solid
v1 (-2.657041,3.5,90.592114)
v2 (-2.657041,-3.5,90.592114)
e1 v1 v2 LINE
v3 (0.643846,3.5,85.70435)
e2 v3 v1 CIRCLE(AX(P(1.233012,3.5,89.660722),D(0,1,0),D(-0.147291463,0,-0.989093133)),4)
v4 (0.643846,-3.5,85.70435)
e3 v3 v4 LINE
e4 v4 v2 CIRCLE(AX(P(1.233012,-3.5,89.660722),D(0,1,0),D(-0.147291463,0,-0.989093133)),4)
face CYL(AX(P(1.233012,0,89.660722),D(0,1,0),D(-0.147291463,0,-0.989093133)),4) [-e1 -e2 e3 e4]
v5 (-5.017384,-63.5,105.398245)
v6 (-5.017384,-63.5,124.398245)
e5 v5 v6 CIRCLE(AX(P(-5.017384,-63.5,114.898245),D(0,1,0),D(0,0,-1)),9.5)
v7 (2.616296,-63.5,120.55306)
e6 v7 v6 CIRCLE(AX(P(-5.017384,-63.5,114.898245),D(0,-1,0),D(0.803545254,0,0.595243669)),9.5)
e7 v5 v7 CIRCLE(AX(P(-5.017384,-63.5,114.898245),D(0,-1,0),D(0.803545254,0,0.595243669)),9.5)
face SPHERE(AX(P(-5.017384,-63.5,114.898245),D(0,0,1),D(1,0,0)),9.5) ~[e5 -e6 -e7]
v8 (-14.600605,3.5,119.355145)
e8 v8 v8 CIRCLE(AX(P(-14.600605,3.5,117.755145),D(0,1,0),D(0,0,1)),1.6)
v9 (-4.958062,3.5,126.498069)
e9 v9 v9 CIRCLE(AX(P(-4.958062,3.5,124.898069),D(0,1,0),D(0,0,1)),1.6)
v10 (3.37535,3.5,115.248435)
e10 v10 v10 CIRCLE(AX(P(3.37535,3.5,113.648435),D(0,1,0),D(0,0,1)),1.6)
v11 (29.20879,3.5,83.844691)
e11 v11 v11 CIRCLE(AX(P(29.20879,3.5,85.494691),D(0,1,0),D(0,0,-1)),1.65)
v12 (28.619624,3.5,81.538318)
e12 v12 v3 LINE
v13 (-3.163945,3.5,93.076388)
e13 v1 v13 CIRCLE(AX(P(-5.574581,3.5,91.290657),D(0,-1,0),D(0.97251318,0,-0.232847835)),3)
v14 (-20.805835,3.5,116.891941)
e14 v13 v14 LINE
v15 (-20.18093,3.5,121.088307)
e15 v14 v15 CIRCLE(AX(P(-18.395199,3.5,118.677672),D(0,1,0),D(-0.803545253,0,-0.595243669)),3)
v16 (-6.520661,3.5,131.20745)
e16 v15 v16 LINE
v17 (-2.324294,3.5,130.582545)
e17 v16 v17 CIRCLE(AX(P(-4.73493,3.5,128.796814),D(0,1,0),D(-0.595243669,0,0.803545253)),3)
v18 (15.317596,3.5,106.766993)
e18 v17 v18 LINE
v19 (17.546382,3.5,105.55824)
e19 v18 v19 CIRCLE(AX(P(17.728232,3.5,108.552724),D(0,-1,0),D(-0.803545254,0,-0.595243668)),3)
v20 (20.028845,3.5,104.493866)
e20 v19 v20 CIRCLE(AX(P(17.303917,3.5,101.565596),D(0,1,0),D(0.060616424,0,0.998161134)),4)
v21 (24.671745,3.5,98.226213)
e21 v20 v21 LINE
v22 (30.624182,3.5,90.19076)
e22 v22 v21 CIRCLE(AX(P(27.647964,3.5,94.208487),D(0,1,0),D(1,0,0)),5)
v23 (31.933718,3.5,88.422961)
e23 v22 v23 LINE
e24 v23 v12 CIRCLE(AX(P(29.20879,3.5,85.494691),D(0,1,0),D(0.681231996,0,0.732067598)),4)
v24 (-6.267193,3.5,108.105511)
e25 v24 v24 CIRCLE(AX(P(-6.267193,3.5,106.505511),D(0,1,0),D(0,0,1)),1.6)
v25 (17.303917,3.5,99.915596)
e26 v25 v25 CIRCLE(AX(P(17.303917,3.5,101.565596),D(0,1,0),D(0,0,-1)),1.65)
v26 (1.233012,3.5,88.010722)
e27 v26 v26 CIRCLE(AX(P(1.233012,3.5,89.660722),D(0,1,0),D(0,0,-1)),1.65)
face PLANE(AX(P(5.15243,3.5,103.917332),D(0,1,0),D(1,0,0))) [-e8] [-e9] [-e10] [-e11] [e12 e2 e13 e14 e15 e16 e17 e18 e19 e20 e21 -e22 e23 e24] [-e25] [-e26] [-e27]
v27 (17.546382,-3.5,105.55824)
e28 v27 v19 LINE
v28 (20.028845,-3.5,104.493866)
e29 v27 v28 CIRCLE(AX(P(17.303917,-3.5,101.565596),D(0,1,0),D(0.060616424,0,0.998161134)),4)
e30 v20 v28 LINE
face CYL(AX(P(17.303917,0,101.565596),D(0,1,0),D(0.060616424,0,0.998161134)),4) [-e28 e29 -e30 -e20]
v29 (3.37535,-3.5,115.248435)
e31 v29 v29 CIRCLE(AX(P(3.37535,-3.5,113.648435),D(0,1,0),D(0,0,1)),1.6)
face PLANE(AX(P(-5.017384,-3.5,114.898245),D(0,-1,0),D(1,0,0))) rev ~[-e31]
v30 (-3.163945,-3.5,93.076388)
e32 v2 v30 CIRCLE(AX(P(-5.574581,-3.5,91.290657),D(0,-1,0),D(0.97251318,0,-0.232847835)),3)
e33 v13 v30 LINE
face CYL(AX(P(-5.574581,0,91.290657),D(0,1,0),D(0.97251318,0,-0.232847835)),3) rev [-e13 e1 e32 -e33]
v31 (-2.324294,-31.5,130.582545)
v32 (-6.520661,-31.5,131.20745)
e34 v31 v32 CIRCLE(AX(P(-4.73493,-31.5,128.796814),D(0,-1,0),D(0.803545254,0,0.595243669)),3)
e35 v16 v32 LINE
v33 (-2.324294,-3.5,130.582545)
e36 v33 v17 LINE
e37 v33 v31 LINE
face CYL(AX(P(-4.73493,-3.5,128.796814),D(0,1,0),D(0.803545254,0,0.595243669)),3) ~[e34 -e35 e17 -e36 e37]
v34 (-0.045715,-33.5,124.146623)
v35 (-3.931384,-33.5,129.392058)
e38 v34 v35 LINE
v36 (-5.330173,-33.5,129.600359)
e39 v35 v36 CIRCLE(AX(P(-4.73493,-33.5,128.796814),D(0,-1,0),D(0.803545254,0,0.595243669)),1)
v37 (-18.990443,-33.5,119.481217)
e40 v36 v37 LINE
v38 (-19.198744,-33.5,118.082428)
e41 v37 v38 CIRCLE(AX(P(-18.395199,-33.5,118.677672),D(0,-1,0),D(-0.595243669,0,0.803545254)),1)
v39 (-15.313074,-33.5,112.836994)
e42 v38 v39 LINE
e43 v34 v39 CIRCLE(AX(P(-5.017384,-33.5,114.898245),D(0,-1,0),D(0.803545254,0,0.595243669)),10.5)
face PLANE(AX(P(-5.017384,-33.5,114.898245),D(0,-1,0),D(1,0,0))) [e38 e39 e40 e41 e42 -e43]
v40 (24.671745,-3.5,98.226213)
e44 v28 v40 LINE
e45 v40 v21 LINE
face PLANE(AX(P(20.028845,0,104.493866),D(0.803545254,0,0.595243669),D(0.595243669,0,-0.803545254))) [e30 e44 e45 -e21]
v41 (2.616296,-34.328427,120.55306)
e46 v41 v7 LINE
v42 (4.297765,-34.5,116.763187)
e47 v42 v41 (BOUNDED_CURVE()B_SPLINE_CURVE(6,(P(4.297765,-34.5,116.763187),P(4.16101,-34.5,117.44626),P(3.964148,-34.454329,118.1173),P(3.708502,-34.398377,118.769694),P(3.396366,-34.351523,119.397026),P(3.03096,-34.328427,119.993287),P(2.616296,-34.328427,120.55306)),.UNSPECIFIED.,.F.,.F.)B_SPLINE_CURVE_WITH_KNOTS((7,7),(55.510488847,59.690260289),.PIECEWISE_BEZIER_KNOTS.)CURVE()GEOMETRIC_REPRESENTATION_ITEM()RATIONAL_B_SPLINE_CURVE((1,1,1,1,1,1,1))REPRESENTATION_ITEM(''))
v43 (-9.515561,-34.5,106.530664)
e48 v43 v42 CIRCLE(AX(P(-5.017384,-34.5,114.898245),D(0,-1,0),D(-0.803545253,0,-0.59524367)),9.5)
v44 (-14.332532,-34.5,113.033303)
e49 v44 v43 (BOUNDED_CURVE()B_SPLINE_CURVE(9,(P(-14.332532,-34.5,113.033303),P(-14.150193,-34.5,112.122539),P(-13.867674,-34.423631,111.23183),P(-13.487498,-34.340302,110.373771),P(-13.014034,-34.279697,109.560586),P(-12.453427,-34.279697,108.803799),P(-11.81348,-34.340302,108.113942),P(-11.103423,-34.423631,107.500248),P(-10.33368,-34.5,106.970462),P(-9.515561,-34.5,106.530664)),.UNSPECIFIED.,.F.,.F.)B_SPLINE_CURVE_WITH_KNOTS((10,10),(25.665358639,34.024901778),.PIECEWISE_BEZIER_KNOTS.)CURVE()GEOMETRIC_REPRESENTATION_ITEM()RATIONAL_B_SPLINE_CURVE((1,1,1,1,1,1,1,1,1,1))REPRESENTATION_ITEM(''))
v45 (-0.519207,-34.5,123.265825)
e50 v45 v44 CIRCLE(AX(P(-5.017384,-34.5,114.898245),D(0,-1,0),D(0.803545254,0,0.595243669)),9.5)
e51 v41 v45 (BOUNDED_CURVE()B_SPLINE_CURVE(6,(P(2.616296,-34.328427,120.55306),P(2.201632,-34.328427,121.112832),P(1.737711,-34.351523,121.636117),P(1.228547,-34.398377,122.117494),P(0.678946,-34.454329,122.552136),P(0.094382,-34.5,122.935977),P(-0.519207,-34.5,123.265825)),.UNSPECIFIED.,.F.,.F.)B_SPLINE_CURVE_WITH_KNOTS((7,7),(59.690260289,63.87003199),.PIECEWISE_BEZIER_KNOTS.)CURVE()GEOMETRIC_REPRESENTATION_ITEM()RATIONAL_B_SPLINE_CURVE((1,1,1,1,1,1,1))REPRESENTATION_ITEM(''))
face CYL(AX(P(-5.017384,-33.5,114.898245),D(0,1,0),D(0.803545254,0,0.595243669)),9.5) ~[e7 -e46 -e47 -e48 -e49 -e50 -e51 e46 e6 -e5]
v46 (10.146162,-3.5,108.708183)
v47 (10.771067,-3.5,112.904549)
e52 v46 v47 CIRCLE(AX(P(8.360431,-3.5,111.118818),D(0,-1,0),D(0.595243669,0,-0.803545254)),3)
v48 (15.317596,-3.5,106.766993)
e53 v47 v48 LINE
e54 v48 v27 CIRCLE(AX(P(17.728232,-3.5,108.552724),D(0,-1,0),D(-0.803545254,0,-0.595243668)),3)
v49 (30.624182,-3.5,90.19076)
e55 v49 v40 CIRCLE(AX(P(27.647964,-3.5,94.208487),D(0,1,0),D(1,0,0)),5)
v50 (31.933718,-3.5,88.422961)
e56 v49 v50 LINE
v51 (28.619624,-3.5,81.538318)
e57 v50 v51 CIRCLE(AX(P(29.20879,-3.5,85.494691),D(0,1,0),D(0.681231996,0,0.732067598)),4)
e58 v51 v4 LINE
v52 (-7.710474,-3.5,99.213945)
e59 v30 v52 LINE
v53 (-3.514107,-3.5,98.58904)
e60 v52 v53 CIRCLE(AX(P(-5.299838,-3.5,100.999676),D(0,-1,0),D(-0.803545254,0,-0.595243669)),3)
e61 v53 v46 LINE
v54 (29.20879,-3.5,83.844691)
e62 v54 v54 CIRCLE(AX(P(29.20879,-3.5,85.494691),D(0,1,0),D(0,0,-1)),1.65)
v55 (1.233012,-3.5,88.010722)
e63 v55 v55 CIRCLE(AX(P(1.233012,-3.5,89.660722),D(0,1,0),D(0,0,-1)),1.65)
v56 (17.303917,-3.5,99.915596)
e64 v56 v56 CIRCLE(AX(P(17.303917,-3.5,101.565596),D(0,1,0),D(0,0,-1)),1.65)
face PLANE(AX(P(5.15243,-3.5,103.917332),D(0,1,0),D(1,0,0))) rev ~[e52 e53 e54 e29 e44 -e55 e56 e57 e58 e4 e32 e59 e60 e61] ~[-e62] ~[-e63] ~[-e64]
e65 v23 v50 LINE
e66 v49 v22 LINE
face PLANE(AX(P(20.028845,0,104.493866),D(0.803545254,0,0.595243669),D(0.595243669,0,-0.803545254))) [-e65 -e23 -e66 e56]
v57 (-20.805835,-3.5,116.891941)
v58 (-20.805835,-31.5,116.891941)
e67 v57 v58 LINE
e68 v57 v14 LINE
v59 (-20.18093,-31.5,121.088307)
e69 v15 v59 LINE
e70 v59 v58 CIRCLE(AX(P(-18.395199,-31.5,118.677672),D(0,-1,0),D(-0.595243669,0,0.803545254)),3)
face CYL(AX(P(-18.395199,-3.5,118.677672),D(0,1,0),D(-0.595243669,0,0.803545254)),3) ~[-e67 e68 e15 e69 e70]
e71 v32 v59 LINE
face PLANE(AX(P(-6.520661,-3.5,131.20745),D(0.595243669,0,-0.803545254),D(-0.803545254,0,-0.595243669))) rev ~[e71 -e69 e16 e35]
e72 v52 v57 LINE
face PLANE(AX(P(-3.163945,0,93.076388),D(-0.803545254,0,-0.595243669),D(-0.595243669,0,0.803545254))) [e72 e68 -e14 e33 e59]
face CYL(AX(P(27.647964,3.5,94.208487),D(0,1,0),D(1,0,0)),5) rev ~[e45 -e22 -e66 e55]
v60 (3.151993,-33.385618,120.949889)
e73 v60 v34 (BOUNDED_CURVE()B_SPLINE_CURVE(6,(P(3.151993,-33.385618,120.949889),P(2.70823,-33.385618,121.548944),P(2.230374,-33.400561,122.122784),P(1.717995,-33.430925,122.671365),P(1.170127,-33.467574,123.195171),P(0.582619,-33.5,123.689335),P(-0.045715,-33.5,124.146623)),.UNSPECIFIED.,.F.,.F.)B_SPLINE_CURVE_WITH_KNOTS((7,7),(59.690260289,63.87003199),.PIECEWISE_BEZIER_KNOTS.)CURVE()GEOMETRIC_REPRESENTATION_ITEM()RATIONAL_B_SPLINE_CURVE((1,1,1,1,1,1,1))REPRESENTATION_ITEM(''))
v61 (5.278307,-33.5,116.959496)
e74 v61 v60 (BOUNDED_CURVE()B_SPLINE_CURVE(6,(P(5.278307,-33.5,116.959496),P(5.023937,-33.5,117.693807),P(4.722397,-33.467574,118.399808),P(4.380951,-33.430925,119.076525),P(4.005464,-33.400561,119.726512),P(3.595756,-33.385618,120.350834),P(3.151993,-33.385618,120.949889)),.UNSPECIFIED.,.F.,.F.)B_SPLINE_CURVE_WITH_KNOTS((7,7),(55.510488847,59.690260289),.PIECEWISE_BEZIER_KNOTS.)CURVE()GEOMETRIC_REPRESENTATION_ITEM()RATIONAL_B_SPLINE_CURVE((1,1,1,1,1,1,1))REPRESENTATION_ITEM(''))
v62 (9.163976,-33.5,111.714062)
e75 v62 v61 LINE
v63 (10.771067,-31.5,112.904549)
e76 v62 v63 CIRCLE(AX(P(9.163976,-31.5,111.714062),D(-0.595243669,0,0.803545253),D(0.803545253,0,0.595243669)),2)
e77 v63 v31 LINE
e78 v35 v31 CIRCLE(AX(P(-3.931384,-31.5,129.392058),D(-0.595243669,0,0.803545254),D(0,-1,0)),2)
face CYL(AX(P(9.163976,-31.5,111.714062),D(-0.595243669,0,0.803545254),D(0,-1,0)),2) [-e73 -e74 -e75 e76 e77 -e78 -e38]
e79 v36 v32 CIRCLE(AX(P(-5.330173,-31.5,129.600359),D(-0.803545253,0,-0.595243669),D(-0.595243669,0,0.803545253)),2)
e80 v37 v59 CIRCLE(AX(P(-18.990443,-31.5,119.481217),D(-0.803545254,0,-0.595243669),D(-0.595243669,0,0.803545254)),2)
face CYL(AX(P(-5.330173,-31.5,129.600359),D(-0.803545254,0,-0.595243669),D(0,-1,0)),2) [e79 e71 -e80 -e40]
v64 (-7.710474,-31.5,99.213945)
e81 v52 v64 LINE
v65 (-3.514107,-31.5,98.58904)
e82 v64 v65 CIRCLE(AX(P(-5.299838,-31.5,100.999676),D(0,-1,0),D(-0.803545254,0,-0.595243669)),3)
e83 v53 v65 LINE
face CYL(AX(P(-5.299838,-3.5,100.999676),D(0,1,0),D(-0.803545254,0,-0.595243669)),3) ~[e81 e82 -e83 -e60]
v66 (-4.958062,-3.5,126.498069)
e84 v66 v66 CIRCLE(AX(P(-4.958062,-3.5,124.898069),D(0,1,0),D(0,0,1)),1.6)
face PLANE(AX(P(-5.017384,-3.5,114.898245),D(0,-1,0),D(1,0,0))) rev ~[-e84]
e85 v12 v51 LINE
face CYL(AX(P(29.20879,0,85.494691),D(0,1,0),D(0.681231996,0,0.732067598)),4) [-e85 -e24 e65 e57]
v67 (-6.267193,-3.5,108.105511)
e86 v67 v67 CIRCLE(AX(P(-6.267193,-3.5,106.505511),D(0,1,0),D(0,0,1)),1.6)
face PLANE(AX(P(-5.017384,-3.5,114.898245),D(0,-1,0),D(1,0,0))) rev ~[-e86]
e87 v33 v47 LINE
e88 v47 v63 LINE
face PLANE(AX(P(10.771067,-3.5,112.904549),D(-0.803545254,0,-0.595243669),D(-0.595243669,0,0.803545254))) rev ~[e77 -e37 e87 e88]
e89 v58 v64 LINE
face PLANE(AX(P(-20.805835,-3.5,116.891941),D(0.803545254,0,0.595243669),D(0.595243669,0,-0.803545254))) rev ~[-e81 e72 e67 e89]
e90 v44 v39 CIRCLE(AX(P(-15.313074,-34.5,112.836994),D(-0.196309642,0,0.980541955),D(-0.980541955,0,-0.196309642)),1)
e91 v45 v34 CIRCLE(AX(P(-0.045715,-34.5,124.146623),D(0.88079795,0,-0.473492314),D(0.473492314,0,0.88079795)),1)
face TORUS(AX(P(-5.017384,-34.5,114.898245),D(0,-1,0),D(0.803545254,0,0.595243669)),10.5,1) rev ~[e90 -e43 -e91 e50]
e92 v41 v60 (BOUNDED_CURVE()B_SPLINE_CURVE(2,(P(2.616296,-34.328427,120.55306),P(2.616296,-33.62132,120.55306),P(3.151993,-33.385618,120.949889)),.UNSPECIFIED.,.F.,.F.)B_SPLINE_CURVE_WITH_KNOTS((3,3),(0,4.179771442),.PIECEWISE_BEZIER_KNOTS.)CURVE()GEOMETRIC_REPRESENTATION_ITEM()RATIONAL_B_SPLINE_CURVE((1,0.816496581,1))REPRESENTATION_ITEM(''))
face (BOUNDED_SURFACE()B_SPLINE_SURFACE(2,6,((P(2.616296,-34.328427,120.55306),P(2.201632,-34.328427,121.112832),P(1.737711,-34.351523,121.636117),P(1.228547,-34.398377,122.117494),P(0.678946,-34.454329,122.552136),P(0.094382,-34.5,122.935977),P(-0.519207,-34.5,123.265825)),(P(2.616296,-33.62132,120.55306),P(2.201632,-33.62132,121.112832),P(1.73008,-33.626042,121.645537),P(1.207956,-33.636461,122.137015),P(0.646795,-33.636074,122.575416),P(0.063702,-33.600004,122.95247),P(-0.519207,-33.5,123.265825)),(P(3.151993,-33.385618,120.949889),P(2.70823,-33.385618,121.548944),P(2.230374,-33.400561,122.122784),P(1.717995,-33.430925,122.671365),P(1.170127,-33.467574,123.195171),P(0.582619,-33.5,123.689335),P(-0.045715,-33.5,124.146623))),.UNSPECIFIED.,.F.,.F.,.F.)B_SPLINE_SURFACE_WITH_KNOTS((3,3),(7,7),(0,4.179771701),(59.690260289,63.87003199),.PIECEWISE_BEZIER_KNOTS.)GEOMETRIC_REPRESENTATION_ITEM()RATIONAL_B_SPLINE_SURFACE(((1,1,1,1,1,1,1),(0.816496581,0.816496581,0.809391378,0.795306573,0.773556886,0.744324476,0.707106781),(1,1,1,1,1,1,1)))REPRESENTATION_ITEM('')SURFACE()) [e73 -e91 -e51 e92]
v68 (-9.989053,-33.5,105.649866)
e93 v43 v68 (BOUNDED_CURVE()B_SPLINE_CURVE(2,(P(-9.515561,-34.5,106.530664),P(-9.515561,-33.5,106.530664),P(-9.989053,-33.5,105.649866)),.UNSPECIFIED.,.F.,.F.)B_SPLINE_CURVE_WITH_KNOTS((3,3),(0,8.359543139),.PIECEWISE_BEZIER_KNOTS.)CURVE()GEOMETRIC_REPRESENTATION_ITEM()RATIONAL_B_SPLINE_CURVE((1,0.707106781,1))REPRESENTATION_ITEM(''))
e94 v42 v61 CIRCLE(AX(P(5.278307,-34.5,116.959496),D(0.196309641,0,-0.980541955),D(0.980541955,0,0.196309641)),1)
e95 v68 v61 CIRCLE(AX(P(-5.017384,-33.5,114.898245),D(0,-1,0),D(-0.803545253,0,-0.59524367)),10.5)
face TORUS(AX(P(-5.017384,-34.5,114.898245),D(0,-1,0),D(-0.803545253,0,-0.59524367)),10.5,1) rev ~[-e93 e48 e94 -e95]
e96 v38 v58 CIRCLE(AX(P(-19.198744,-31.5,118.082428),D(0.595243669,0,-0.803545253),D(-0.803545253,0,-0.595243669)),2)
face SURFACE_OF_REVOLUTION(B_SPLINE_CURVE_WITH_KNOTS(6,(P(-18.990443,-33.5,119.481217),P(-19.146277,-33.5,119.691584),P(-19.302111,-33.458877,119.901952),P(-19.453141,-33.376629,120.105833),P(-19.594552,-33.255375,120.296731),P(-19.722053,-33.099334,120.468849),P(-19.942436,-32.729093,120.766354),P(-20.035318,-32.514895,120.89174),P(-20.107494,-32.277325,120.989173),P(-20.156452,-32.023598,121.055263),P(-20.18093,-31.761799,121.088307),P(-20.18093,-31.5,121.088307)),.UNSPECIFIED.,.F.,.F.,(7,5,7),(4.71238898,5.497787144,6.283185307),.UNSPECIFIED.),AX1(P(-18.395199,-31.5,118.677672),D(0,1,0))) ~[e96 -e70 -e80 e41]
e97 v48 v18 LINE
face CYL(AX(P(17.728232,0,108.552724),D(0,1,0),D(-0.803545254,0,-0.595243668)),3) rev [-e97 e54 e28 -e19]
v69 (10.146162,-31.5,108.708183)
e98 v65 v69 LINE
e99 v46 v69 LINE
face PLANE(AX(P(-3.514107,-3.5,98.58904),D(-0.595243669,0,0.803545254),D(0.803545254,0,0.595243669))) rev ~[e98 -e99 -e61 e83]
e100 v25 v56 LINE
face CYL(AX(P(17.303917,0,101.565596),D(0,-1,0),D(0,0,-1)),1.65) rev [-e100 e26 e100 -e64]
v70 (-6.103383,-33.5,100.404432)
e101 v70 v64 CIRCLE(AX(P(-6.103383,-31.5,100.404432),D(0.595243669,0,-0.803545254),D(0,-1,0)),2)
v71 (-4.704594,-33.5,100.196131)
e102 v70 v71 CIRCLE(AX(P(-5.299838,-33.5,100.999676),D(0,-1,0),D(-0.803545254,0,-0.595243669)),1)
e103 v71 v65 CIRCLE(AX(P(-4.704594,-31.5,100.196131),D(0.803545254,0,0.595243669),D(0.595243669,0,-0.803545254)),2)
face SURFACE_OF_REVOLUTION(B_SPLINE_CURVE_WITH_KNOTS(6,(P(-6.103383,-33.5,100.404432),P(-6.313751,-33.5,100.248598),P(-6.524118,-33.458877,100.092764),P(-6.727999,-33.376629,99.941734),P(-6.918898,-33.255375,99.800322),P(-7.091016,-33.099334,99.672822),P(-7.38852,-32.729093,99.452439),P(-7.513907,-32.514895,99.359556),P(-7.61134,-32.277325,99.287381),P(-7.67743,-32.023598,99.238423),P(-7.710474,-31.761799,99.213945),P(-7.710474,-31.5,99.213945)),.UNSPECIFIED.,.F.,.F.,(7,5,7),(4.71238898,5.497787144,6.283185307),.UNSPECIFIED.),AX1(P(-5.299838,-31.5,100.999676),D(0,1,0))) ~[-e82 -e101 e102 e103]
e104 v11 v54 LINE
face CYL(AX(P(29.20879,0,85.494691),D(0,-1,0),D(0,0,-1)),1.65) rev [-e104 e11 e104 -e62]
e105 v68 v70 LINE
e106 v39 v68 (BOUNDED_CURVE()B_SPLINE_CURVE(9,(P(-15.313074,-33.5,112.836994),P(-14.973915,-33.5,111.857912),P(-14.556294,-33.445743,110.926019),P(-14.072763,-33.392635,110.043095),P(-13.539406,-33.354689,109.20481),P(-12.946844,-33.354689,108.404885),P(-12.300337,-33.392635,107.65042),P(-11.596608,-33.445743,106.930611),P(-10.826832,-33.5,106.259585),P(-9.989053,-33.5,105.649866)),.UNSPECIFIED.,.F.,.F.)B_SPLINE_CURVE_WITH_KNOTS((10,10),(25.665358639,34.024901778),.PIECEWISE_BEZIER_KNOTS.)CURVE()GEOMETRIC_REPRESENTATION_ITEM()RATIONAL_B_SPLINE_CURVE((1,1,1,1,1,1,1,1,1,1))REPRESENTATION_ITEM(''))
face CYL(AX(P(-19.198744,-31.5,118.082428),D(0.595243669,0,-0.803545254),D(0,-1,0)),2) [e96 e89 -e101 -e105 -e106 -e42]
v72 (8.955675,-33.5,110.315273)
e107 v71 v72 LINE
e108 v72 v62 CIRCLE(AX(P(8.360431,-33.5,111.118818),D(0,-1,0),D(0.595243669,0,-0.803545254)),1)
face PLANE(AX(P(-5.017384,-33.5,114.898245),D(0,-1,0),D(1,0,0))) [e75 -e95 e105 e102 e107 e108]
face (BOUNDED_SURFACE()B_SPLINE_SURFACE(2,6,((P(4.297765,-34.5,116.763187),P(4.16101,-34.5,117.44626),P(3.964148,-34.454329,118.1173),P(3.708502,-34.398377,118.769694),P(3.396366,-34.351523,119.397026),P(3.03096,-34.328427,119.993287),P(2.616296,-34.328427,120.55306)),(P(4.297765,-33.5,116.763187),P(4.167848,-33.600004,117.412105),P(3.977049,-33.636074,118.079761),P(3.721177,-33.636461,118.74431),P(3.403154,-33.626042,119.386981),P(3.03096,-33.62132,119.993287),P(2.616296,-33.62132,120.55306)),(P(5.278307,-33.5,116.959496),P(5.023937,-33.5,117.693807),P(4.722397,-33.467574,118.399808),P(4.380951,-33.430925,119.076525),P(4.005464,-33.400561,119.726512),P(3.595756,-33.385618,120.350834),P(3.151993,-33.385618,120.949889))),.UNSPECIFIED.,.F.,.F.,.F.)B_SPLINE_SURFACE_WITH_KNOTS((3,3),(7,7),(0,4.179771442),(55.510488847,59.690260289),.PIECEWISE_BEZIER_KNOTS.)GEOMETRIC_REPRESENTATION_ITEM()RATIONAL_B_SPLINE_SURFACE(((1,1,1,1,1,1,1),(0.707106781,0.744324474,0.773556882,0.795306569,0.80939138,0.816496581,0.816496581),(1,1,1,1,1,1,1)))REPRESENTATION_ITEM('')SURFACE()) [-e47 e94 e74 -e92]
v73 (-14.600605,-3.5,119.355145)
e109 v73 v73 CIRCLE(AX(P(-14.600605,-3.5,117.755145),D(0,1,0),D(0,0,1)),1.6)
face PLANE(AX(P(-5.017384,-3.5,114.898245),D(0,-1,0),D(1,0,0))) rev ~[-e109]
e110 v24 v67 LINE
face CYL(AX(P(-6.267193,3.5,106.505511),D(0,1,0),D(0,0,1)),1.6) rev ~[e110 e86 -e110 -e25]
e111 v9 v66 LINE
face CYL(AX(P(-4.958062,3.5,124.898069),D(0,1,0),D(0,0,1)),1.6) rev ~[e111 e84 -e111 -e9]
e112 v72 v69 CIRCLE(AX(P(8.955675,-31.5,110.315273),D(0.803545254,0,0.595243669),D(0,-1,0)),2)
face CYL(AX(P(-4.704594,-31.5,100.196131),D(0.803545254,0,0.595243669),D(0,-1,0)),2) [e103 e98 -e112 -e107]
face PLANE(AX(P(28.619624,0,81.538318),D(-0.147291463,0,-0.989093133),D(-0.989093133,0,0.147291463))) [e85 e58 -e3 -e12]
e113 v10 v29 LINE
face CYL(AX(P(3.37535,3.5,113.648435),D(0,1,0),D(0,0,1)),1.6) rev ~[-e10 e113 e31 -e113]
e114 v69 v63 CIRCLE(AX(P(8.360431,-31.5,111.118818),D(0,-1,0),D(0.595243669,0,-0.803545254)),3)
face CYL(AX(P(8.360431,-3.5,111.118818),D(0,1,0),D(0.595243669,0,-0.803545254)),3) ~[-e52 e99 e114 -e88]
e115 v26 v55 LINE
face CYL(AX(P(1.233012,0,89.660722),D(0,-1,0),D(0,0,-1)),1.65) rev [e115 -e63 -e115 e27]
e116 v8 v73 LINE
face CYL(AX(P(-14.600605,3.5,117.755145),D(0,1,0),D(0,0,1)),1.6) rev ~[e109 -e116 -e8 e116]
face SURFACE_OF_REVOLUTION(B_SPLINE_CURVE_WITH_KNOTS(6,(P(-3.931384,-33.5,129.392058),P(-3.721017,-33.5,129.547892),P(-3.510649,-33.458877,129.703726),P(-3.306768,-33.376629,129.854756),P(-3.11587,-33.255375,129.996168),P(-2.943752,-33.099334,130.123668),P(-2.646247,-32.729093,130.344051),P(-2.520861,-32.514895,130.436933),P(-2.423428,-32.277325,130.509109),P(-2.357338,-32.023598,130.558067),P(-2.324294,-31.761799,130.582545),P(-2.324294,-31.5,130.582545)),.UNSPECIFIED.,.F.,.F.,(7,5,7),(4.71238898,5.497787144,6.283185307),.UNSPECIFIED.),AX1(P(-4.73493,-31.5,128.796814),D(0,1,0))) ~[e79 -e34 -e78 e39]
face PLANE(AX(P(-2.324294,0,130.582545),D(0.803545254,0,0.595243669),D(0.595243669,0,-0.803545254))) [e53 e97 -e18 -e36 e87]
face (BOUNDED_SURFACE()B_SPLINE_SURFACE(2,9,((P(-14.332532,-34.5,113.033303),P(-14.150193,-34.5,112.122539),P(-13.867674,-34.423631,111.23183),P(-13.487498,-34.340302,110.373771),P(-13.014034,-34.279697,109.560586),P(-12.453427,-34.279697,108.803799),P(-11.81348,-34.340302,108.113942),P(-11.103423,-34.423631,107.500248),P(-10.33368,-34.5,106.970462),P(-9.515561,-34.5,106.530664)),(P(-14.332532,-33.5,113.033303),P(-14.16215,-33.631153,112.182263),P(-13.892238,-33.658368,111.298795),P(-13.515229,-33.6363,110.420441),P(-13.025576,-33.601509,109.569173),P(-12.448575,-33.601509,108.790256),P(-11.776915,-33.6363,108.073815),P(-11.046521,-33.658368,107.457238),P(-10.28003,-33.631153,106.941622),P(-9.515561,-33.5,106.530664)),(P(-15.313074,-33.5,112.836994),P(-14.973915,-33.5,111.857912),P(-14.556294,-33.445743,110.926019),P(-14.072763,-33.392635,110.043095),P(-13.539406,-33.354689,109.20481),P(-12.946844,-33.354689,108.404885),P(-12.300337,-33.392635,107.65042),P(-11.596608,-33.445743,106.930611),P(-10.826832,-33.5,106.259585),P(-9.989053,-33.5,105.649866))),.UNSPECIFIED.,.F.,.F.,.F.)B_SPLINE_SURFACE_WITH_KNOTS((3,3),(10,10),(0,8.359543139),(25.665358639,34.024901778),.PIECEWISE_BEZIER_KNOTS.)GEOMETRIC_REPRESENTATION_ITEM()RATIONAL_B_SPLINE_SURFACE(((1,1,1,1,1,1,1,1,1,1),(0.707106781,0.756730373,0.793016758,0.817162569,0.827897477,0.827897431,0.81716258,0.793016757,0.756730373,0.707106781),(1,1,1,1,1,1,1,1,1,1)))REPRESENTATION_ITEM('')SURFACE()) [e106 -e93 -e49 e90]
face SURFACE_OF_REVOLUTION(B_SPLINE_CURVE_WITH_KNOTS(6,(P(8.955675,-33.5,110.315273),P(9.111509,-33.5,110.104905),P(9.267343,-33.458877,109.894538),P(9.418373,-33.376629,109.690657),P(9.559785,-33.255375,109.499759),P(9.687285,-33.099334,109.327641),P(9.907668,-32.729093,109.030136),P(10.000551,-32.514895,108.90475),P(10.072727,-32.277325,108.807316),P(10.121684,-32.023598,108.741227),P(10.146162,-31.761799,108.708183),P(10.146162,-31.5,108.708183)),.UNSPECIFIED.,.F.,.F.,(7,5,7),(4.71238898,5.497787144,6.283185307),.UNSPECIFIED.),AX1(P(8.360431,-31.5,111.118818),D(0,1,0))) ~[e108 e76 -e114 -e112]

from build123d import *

# Parameters (mm, degrees)
SKETCH1_R           = 1.650000007
BOSS_EXTRUDE1_DEPTH = 3.5
SKETCH8_R           = 5
CUT_EXTRUDE3_DEPTH  = 10
SKETCH9_R           = 1.6
CUT_EXTRUDE4_DEPTH  = 10
BOSS_EXTRUDE5_DEPTH = 30
FILLET4_R           = 2
SKETCH13_R          = 9.5
BOSS_EXTRUDE6_DEPTH = 30
FILLET5_R           = 1
REVOLVE2_ANGLE      = 180


with BuildPart() as part:
    # Sketch1 → Boss-Extrude1 (new, symmetric)
    with BuildSketch(Plane(origin=(0, 0, 0), x_dir=(1, 0, 0), z_dir=(0, 1, 0))):
        with BuildLine():
            Line((-3.163944782, -93.076388076), (-20.805834618, -116.891940565))
            ThreePointArc((-20.805834618, -116.891940565), (-21.362478255, -119.119545961), (-20.180929864, -121.088307332))
            Line((-20.180929864, -121.088307332), (-6.520660553, -131.207449705))
            ThreePointArc((-6.520660553, -131.207449705), (-4.293055157, -131.764093342), (-2.324293786, -130.582544951))
            Line((-2.324293786, -130.582544951), (15.317595998, -106.766992534))
            ThreePointArc((15.317595998, -106.766992534), (16.298016652, -105.915587831), (17.546382486, -105.558240139))
            ThreePointArc((17.546382486, -105.558240139), (18.880171652, -105.241928098), (20.028844772, -104.493865997))
            Line((20.028844772, -104.493865997), (31.933718152, -88.422960925))
            ThreePointArc((31.933718152, -88.422960925), (32.812947077, -83.759740105), (28.619624318, -81.538318002))
            Line((28.619624318, -81.538318002), (0.643845867, -85.704349694))
            ThreePointArc((0.643845867, -85.704349694), (-2.081865152, -87.422063847), (-2.657041002, -90.592113564))
            ThreePointArc((-2.657041002, -90.592113564), (-2.635147269, -91.890433717), (-3.163944782, -93.076388076))
        make_face()
        with Locations(Location((1.233011719, -89.660722224, 0), (0, 0, 90))):
            Circle(SKETCH1_R, mode=Mode.SUBTRACT)
        with Locations(Location((29.20879017, -85.494690532, 0), (0, 0, 90))):
            Circle(SKETCH1_R, mode=Mode.SUBTRACT)
        with Locations(Location((17.30391679, -101.565595604, 0), (0, 0, 90))):
            Circle(SKETCH1_R, mode=Mode.SUBTRACT)
    extrude(amount=BOSS_EXTRUDE1_DEPTH, both=True)

    # Sketch8 → Cut-Extrude3 (cut)
    with BuildSketch(Plane(origin=(0, 3.5, 0), x_dir=(1, 0, 0), z_dir=(0, 1, 0))):
        with Locations((27.647963735, -94.208486751)):
            Circle(SKETCH8_R)
    extrude(amount=-CUT_EXTRUDE3_DEPTH, mode=Mode.SUBTRACT)

    # Sketch9 → Cut-Extrude4 (cut)
    with BuildSketch(Plane(origin=(0, 3.5, 0), x_dir=(1, 0, 0), z_dir=(0, 1, 0))):
        with Locations(Location((-6.267193351, -106.505511433, 0), (0, 0, 270))):
            Circle(SKETCH9_R)
        with Locations(Location((3.375349692, -113.648435461, 0), (0, 0, 270))):
            Circle(SKETCH9_R)
        with Locations(Location((-4.958061673, -124.898069011, 0), (0, 0, 270))):
            Circle(SKETCH9_R)
        with Locations(Location((-14.600604716, -117.755144983, 0), (0, 0, 270))):
            Circle(SKETCH9_R)
    extrude(amount=-CUT_EXTRUDE4_DEPTH, mode=Mode.SUBTRACT)

    # Sketch11 → Boss-Extrude5 (add)
    with BuildSketch(Plane.XZ.offset(3.5)):
        with BuildLine():
            Line((-3.514107133, 98.589040232), (10.146162178, 108.708182605))
            ThreePointArc((10.146162178, 108.708182605), (11.327710569, 110.676943976), (10.771066932, 112.904549372))
            Line((10.771066932, 112.904549372), (-2.324293786, 130.582544951))
            ThreePointArc((-2.324293786, 130.582544951), (-4.293055157, 131.764093342), (-6.520660553, 131.207449705))
            Line((-6.520660553, 131.207449705), (-20.180929864, 121.088307332))
            ThreePointArc((-20.180929864, 121.088307332), (-21.362478255, 119.119545961), (-20.805834618, 116.891940565))
            Line((-20.805834618, 116.891940565), (-7.710473901, 99.213944986))
            ThreePointArc((-7.710473901, 99.213944986), (-5.741712529, 98.032396595), (-3.514107133, 98.589040232))
        make_face()
    extrude(amount=BOSS_EXTRUDE5_DEPTH)

    # Fillet4
    fillet4_edges = [part.edges().sort_by_distance(p)[0] for p in [
        (-21.362478255, -33.5, 119.119545961),
        (-14.258154259, -33.5, 108.052942775),
        (-5.741712529, -33.5, 98.032396595),
        (3.316027522, -33.5, 103.648611418),
        (11.327710569, -33.5, 110.676943976),
        (4.223386573, -33.5, 121.743547162),
        (-4.293055157, -33.5, 131.764093342),
        (-13.350795209, -33.5, 126.147878519),
    ]]
    fillet(fillet4_edges, radius=FILLET4_R)

    # Sketch13 → Boss-Extrude6 (add)
    with BuildSketch(Plane.XZ.offset(33.5)):
        with Locations(Location((-5.017383843, 114.898244969, 0), (0, 0, 36.530004657))):
            Circle(SKETCH13_R)
    extrude(amount=BOSS_EXTRUDE6_DEPTH)

    # Fillet5
    fillet5_edges = [part.edges().sort_by_distance(p)[0] for p in [
        (-10.672198638, -33.5, 122.531924922),
        (0.637430952, -33.5, 107.264565015),
    ]]
    fillet(fillet5_edges, radius=FILLET5_R)

    # Sketch14 → Revolve2 (revolve)
    with BuildSketch(Plane.XZ.offset(63.5)):
        with BuildLine():
            Line((-5.017383843, 124.398244969), (-5.017383843, 105.398244968))
            ThreePointArc((-5.017383843, 105.398244968), (4.482616157, 114.898244969), (-5.017383843, 124.398244969))
        make_face()
    revolve(axis=Axis((-5.017383843, -63.5, 124.398244969), (0, 0, -1)), revolution_arc=REVOLVE2_ANGLE)


solid = part.part
